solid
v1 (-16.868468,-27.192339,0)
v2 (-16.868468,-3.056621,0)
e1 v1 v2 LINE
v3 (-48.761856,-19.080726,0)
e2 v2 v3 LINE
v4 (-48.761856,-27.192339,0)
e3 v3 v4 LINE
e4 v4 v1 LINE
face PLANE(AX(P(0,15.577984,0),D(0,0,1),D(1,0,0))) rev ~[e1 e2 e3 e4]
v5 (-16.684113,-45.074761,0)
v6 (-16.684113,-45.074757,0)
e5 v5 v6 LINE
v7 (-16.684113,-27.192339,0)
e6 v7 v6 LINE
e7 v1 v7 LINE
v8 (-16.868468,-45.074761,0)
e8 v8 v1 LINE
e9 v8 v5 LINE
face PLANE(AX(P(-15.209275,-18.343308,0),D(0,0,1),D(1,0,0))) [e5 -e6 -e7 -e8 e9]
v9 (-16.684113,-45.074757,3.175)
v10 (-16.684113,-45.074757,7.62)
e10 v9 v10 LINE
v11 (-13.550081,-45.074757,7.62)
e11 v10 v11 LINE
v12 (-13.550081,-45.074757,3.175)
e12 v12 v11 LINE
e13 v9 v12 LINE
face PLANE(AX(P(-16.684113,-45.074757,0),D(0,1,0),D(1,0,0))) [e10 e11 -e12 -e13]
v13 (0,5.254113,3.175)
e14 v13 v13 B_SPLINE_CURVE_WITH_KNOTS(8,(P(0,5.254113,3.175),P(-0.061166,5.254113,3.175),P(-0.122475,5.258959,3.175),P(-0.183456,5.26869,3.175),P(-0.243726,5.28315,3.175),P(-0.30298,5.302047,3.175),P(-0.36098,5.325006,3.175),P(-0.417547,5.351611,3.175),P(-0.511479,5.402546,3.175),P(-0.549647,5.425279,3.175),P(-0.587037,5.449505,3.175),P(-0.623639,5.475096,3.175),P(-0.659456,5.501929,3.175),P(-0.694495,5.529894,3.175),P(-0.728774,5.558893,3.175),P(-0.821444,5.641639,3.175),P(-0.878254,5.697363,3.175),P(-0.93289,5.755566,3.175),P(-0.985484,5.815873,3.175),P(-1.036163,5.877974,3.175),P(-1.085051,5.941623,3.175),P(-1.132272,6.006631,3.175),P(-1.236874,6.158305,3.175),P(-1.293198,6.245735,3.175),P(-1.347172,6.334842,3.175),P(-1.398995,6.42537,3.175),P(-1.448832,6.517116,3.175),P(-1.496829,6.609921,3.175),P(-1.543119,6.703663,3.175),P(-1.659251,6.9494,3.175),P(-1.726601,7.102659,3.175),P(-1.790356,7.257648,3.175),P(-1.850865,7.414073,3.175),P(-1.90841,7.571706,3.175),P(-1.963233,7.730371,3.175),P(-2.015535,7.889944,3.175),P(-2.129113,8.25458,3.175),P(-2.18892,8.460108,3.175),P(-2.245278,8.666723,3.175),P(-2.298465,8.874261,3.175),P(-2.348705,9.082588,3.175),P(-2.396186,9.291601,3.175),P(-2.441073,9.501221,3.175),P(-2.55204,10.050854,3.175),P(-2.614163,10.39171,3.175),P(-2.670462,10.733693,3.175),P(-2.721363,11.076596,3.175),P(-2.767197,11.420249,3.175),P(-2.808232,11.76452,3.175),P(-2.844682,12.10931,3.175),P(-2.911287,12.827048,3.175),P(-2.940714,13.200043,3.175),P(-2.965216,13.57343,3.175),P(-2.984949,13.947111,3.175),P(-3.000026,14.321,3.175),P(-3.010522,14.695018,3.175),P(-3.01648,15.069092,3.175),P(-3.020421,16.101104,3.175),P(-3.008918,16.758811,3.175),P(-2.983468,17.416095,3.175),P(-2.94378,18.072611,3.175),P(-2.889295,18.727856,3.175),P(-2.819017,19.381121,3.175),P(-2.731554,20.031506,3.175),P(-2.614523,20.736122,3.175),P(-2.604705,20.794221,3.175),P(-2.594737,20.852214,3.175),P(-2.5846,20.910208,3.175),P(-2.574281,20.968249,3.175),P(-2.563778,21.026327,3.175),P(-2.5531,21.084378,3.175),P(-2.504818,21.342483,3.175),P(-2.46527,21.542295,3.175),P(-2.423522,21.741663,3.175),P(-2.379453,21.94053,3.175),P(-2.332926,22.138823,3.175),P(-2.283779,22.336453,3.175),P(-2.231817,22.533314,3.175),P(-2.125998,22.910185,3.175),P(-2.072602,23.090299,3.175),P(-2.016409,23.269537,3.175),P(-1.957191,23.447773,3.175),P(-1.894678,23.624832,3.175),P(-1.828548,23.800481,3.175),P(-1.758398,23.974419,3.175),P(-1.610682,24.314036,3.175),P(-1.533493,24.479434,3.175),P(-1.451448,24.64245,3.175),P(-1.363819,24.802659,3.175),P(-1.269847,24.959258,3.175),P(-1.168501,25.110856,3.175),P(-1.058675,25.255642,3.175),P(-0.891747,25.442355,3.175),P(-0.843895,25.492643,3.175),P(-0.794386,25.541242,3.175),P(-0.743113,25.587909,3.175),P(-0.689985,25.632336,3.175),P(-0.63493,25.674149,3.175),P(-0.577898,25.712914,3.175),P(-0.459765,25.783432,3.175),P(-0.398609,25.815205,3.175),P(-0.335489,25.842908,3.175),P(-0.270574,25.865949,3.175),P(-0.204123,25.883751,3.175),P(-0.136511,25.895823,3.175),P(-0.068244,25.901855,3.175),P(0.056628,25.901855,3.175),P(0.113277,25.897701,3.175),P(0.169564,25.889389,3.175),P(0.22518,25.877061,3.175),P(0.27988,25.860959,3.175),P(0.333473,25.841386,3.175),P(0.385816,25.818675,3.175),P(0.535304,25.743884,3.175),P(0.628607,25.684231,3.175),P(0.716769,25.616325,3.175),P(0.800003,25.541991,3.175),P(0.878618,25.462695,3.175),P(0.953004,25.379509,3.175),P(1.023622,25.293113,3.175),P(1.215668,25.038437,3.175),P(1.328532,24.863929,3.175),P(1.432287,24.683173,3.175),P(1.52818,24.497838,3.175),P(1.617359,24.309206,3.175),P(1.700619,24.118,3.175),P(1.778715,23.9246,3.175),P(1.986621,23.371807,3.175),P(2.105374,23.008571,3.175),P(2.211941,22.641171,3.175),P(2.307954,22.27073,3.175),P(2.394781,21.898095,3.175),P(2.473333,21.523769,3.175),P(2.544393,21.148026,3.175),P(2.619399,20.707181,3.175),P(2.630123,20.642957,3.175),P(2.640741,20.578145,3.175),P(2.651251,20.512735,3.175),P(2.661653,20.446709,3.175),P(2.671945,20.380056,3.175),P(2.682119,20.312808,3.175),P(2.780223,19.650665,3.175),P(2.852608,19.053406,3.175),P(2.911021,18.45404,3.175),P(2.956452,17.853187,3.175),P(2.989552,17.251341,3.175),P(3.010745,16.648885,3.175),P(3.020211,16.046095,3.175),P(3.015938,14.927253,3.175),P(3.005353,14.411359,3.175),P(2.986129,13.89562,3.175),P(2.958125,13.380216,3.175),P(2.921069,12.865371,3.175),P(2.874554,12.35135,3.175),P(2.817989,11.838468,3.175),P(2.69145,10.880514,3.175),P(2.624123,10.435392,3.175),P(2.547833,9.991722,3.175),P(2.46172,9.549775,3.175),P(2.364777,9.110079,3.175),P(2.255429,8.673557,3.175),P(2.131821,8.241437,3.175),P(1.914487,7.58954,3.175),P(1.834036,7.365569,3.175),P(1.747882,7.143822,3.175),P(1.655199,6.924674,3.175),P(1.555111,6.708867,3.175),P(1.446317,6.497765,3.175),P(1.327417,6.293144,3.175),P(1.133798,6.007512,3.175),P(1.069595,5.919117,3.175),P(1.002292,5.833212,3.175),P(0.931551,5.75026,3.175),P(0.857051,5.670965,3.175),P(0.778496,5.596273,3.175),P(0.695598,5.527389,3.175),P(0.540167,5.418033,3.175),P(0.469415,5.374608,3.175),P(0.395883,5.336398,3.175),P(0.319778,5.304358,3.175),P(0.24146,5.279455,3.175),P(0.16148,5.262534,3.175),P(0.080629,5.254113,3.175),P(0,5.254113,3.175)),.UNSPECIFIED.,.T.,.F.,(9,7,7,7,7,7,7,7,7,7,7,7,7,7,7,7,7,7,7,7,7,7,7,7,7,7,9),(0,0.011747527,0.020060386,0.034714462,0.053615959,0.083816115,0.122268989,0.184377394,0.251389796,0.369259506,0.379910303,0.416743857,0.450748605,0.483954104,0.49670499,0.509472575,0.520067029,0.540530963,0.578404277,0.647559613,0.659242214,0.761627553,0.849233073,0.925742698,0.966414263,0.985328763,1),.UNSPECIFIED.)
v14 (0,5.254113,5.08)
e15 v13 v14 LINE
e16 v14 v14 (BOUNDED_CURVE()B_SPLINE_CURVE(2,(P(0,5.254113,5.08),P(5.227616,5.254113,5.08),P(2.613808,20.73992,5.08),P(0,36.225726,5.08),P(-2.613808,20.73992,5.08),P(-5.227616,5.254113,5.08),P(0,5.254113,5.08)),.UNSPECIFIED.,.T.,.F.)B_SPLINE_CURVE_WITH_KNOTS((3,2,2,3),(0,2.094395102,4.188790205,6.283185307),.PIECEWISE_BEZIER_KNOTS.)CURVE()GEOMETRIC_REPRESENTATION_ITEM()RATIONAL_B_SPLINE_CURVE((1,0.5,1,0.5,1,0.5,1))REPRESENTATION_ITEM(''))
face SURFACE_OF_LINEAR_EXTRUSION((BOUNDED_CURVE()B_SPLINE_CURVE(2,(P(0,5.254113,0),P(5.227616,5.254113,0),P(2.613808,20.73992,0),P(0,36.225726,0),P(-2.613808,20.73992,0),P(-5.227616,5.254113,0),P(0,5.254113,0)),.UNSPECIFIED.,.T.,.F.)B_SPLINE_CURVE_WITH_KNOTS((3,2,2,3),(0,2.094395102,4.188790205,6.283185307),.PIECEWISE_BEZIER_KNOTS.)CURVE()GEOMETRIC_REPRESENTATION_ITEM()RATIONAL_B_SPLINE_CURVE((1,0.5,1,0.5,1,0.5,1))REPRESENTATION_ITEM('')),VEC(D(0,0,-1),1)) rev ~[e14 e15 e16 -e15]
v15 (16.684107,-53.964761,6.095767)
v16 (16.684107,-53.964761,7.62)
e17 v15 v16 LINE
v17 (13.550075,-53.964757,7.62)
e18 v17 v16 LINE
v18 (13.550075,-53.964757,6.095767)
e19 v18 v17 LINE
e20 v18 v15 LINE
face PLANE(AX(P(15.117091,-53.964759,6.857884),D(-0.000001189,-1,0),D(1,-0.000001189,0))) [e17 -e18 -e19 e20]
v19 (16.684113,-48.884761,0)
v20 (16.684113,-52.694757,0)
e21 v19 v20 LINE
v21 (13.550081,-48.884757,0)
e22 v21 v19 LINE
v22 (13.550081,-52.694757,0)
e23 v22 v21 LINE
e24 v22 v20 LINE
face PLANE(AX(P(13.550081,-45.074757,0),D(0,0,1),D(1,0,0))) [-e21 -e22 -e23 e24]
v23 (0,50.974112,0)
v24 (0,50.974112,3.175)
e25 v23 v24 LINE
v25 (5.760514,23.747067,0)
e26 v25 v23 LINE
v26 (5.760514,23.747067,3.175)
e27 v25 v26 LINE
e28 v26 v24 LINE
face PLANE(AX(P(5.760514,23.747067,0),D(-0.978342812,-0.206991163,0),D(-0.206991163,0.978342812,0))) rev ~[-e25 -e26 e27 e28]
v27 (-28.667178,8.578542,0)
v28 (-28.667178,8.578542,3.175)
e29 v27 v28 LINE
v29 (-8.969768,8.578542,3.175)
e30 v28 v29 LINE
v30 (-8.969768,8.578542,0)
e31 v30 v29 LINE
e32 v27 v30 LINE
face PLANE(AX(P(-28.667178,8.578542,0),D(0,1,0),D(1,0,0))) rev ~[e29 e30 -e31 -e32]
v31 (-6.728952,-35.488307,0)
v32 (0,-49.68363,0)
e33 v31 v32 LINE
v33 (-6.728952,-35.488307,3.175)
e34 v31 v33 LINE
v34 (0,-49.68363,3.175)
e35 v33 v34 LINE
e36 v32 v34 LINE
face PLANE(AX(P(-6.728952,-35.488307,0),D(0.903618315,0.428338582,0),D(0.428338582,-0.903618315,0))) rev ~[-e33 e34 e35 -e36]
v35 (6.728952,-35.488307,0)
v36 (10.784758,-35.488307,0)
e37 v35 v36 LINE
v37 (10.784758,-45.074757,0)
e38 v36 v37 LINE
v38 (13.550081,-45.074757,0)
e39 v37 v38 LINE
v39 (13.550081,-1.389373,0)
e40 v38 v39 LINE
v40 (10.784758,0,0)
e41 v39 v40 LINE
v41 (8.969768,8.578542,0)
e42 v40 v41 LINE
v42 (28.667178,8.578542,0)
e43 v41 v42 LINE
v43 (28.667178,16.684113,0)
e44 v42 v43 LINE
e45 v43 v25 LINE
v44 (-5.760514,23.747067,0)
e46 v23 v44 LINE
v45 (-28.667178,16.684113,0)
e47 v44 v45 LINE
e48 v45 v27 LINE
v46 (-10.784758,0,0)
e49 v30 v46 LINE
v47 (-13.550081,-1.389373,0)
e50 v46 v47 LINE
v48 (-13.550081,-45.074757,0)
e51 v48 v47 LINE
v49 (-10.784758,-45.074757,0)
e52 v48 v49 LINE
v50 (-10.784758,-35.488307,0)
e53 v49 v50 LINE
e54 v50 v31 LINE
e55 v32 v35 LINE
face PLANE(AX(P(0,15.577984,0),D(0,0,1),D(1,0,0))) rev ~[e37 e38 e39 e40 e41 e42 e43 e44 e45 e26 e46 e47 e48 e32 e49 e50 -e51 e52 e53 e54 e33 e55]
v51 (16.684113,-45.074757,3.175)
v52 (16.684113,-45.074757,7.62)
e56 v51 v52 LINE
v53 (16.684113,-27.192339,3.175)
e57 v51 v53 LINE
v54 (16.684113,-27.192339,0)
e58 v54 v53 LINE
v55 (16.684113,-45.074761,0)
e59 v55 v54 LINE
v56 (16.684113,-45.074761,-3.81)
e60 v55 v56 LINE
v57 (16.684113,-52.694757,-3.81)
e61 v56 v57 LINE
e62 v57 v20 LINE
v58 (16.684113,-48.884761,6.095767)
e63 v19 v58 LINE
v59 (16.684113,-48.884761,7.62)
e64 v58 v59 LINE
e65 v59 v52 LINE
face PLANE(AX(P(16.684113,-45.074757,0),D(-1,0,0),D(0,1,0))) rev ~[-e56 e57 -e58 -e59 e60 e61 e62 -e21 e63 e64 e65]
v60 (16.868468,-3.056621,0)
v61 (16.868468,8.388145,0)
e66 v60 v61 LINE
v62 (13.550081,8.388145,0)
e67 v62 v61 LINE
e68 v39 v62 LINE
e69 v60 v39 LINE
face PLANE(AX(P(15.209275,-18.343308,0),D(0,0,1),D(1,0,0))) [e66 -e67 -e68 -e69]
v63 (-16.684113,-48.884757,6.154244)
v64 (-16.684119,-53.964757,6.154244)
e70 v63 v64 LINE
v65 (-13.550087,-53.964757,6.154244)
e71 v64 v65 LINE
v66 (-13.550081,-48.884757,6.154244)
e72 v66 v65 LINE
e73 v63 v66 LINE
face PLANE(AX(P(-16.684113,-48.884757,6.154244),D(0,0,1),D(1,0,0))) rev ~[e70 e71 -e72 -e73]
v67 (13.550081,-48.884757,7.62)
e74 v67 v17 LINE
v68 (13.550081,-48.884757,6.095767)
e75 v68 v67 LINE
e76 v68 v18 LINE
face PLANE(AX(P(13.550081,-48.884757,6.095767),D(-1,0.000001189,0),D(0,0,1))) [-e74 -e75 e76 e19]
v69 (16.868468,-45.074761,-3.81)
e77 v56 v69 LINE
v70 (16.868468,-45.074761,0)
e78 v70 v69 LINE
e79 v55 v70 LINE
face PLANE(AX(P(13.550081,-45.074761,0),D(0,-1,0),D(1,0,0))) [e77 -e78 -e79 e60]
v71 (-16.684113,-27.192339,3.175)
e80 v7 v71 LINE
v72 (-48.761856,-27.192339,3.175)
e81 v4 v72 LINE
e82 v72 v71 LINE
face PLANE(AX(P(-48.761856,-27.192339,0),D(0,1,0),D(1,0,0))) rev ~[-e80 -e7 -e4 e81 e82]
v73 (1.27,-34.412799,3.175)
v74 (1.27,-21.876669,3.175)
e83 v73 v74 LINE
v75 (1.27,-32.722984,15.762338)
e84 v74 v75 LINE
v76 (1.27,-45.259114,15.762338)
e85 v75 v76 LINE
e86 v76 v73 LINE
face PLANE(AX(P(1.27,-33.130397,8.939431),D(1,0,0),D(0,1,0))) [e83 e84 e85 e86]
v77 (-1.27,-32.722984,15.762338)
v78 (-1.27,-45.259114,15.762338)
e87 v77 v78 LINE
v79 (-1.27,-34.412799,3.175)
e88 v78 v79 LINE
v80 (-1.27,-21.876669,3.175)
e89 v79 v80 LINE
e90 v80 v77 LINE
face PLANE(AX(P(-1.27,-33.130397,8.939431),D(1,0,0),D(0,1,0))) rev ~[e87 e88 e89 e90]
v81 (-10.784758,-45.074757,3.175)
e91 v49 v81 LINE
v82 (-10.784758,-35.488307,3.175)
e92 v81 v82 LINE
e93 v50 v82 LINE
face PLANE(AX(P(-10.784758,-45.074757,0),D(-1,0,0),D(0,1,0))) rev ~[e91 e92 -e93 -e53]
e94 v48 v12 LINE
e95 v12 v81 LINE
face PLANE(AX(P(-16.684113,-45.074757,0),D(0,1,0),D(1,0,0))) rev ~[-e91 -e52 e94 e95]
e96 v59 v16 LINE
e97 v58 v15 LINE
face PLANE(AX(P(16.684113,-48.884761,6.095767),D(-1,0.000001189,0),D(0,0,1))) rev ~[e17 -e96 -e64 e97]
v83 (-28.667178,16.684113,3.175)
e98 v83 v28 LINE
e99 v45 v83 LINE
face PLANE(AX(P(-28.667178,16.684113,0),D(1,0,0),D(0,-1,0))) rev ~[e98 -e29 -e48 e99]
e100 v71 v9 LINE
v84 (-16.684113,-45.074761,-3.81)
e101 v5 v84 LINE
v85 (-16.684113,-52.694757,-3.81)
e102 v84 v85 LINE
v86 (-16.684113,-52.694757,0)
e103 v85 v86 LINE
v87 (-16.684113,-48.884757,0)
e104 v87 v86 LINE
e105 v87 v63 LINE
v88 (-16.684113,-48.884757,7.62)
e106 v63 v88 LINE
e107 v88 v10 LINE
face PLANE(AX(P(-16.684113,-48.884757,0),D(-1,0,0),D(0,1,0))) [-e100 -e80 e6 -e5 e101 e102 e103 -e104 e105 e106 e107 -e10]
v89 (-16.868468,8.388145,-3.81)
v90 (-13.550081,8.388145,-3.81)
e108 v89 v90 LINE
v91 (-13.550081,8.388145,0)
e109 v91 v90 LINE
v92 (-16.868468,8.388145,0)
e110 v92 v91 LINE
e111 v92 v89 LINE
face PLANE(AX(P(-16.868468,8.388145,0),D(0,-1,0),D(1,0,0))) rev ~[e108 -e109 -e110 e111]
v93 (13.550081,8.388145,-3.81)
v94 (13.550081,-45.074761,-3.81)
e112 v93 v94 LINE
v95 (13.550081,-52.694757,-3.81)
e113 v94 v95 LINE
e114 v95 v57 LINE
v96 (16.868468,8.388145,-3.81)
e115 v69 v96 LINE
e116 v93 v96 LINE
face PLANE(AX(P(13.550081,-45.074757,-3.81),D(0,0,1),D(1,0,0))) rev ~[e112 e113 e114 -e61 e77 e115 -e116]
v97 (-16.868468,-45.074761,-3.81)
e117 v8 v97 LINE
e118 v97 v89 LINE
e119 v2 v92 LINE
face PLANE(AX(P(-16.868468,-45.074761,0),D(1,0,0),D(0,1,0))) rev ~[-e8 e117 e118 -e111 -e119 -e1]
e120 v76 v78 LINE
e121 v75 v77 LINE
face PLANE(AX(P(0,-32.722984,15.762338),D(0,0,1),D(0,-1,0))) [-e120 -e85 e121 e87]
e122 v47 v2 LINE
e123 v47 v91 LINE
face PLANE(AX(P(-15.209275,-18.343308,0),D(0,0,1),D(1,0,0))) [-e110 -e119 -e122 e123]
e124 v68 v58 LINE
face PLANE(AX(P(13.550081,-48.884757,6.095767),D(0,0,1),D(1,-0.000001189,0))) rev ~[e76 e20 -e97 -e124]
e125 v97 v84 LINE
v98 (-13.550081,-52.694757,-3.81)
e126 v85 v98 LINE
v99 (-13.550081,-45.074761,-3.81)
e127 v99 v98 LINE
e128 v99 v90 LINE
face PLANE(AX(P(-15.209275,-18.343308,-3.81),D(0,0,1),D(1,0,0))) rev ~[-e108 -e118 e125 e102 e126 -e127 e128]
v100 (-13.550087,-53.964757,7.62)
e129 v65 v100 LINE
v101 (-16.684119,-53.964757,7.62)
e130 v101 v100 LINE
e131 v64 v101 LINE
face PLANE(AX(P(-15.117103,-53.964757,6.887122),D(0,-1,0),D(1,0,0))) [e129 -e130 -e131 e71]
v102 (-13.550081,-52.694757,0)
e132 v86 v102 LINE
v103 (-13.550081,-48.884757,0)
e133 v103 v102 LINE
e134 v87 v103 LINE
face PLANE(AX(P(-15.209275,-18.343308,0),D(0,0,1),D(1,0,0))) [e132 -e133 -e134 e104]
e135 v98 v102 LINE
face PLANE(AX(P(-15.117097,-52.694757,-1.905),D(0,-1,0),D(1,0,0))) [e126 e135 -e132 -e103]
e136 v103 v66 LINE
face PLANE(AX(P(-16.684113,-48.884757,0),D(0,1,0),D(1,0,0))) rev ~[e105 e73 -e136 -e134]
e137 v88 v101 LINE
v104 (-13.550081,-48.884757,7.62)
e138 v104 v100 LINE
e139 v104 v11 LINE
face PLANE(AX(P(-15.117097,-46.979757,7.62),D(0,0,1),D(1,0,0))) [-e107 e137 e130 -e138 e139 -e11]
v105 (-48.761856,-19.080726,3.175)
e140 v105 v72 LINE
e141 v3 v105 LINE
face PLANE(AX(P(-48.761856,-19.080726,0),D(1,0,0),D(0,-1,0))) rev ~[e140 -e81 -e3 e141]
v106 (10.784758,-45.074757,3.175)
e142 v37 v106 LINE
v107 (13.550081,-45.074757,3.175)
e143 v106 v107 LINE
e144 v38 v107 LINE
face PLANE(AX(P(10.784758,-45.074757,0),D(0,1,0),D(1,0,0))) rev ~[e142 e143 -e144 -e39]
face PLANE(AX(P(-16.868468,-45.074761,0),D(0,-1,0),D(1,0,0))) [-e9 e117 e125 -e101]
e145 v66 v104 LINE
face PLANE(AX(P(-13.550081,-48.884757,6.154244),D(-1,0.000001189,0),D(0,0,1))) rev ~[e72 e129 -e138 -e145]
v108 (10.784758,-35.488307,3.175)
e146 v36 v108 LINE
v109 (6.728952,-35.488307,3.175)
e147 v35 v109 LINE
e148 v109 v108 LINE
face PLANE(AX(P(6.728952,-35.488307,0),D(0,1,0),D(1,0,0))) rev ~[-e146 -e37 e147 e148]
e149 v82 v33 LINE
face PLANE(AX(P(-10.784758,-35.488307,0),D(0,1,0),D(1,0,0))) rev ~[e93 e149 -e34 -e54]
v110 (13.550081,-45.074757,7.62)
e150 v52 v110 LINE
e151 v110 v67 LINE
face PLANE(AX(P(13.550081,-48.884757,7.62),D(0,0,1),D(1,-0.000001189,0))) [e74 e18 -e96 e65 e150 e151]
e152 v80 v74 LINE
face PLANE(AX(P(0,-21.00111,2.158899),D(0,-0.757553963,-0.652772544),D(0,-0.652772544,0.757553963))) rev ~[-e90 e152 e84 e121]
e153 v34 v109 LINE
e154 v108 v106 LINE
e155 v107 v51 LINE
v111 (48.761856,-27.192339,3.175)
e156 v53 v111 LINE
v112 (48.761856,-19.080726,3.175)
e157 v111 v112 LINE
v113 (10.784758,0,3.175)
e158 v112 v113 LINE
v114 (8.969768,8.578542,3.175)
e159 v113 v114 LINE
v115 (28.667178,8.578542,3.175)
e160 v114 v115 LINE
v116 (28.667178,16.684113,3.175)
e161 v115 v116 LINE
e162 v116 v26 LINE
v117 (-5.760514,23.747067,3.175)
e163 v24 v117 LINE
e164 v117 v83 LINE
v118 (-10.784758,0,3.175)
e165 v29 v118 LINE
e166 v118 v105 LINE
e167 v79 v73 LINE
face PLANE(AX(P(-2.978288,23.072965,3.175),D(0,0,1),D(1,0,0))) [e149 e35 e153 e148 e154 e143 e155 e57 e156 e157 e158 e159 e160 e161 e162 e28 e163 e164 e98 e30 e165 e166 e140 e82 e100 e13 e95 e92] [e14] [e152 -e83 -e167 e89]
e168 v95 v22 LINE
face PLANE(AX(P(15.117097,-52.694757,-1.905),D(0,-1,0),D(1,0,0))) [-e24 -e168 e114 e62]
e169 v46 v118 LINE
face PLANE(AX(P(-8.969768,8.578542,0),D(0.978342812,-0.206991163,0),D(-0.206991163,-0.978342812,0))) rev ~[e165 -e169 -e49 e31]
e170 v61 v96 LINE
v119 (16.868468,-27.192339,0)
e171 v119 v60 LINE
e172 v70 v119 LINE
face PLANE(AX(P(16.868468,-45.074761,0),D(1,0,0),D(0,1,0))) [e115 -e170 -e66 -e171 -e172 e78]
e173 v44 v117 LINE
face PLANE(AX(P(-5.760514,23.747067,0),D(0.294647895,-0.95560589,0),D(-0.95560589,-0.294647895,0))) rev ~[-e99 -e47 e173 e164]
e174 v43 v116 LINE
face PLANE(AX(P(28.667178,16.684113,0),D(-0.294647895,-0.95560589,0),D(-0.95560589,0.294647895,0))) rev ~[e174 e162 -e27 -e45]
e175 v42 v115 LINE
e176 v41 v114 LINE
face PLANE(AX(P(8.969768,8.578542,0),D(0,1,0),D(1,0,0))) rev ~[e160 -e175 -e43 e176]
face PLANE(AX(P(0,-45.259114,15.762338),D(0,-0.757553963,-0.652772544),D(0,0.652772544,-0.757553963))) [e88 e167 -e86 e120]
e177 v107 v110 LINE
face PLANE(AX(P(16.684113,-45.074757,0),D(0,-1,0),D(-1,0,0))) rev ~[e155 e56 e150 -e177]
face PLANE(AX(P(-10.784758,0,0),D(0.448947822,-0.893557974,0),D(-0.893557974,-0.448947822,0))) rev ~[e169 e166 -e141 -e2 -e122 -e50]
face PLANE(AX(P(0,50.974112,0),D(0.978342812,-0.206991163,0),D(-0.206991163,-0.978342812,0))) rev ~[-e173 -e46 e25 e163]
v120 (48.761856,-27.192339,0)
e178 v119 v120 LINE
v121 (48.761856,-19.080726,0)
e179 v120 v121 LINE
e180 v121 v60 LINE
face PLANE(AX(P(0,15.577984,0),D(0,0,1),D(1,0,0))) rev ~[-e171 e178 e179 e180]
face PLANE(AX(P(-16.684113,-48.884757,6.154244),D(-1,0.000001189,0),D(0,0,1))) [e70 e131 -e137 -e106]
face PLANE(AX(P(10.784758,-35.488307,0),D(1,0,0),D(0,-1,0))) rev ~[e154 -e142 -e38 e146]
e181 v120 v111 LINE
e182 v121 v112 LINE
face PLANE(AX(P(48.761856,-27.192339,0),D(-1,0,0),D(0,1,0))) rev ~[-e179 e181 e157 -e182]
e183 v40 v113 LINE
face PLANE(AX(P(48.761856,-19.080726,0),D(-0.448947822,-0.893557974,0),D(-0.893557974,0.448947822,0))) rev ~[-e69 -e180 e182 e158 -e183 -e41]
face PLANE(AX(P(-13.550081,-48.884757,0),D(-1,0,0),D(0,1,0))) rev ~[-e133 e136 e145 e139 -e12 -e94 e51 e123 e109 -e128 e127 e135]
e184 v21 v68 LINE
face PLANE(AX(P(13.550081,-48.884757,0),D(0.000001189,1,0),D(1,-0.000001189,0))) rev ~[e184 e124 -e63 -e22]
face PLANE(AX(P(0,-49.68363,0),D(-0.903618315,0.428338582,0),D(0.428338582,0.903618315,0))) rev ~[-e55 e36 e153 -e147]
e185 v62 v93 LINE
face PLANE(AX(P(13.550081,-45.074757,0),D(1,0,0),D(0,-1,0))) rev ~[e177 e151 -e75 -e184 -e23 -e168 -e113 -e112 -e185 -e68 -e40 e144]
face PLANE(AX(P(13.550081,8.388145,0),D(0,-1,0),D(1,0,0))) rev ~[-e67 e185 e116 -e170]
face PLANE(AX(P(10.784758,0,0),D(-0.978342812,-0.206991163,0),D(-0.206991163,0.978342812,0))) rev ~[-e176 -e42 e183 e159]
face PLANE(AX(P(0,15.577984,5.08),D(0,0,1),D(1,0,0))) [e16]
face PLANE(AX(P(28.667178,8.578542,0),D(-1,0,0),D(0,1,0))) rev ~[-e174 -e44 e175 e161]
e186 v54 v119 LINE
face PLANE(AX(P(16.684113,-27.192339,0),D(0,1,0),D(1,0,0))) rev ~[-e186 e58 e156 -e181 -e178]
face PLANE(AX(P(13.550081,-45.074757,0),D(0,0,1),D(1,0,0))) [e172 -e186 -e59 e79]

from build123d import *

# Parameters (mm, degrees)
F1_DEPTH      = 3.175
F3_DEPTH      = 5.08
F4_W          = 3.3183870837
F4_H          = 53.4629058093
F5_DEPTH      = 3.81
F7_DEPTH      = 1.27
F7_DEPTH_BACK = 1.27
F8_W          = 3.1340317801
F8_H          = 3.81
F9_W          = 3.1340317801
F9_H          = 3.81
F10_DEPTH     = 7.62
F11_W         = 3.1340317801
F11_H         = 3.81
F13_DEPTH     = 7.62
F15_W         = 3.1340317801
F15_H         = 1.5242329788
F14_W         = 3.1340317801
F14_H         = 1.4657561657
F16_DEPTH     = 5.08


with BuildPart() as f1:
    # F0 (on Top) → F1 (new body)
    with BuildSketch(Plane.XY):
        Polygon((-10.7847582549, 0), (0, 0), (0, 50.974112004), (-5.760514272, 23.7470668758), (-8.9697682119, 8.5785423791), align=None)
        Polygon((0, -49.6836304665), (0, 0), (-10.7847582549, 0), (-10.7847582549, -27.1923393011), (-10.7847582549, -35.488307476), (-6.7289522849, -35.488307476), align=None)
        Polygon((0, 50.974112004), (0, 0), (10.7847582549, 0), (8.9697682119, 8.5785423791), (5.760514272, 23.7470668758), align=None)
        Polygon((10.7847582549, 0), (0, 0), (0, -49.6836304665), (6.7289522849, -35.488307476), (10.7847582549, -35.488307476), (10.7847582549, -27.1923393011), align=None)
        Polygon((-10.7847582549, -27.1923393011), (-10.7847582549, 0), (-48.7618558109, -19.0807264298), (-48.7618558109, -27.1923393011), (-16.6841130704, -27.1923393011), align=None)
        Polygon((48.7618558109, -19.0807264298), (10.7847582549, 0), (10.7847582549, -27.1923393011), (16.6841130704, -27.1923393011), (48.7618558109, -27.1923393011), align=None)
        Polygon((-8.9697682119, 8.5785423791), (-5.760514272, 23.7470668758), (-28.667178005, 16.6841130704), (-28.667178005, 8.5785423791), align=None)
        Polygon((28.667178005, 16.6841130704), (5.760514272, 23.7470668758), (8.9697682119, 8.5785423791), (28.667178005, 8.5785423791), align=None)
        Polygon((-10.7847582549, -35.488307476), (-10.7847582549, -27.1923393011), (-16.6841130704, -27.1923393011), (-16.6841130704, -45.0747571886), (-10.7847582549, -45.0747571886), align=None)
        Polygon((16.6841130704, -27.1923393011), (10.7847582549, -27.1923393011), (10.7847582549, -35.488307476), (10.7847582549, -45.0747571886), (16.6841130704, -45.0747571886), align=None)
    extrude(amount=F1_DEPTH)

    # F2 (on Top) → F3 (join)
    with BuildSketch(Plane.XY):
        with BuildLine():
            add(Edge.make_bspline(
                [(0, 5.2541131154), (5.2276164738, 5.2541131154), (2.6138082369, 20.739919506), (0, 36.2257258967), (-2.6138082369, 20.739919506), (-5.2276164738, 5.2541131154), (0, 5.2541131154)],
                knots=[0, 0, 0, 2.0943951024, 2.0943951024, 4.1887902048, 4.1887902048, 6.2831853072, 6.2831853072, 6.2831853072], degree=2, weights=[1, 0.5, 1, 0.5, 1, 0.5, 1]))
        make_face()
    extrude(amount=F3_DEPTH)

    # F4 (on Top) → F5 (join)
    with BuildSketch(Plane.XY):
        with Locations((-15.2092748322, -18.3433080092)):
            Rectangle(F4_W, F4_H)
        with Locations((15.2092748322, -18.3433080092)):
            Rectangle(F4_W, F4_H)
    extrude(amount=-F5_DEPTH)

    # F6 (on Right) → F7 (join, two sides)
    with BuildSketch(Plane.YZ) as f7_sk:
        Polygon((-45.2591143548, 15.7623384148), (-33.4193573299, 2.0220931471), (-21.0011098534, 2.1588988602), (-32.7229835093, 15.7623384148), align=None)
    extrude(amount=F7_DEPTH)
    extrude(f7_sk.sketch, amount=-F7_DEPTH_BACK)



with BuildPart() as f10:
    # F8 (on face) + F9 (on face) → F10 (new body)
    with BuildSketch(Plane.XZ.offset(45.0747571886)):
        with Locations((-15.1170971803, -1.905)):
            Rectangle(F8_W, F8_H)
    with BuildSketch(Plane.XZ.offset(45.0747571886)):
        with Locations((15.1170971803, -1.905)):
            Rectangle(F9_W, F9_H)
    extrude(amount=F10_DEPTH)


with BuildPart() as f1_1:
    add(f1.part)

    add(f10.part)  # F13 merges F10
    # F11 (on face) + F12 (on face) → F13 (join)
    with BuildSketch(Plane.XY):
        with Locations((-15.1170971803, -46.9797571886)):
            Rectangle(F11_W, F11_H)
    with BuildSketch(Plane.XY):
        Polygon((13.5500812903, -45.0747571886), (13.5500812903, -48.8847571886), (16.6841130704, -48.8847609138), (16.6841130704, -45.0747571886), align=None)
    extrude(amount=F13_DEPTH)

    # F15 (on face) + F14 (on face) → F16 (join)
    with BuildSketch(Plane(origin=(-5.81072e-05, -48.8847410821, 0), x_dir=(1, -1.1887e-06, 0), z_dir=(-1.1887e-06, -1, 0))):
        with Locations((15.1171552876, 6.8578835106)):
            Rectangle(F15_W, F15_H)
    with BuildSketch(Plane.XZ.offset(48.8847571886)):
        with Locations((-15.1170971803, 6.8871219172)):
            Rectangle(F14_W, F14_H)
    extrude(amount=F16_DEPTH, dir=(-1.1887e-06, -1, 0))


solid = f1_1.part
